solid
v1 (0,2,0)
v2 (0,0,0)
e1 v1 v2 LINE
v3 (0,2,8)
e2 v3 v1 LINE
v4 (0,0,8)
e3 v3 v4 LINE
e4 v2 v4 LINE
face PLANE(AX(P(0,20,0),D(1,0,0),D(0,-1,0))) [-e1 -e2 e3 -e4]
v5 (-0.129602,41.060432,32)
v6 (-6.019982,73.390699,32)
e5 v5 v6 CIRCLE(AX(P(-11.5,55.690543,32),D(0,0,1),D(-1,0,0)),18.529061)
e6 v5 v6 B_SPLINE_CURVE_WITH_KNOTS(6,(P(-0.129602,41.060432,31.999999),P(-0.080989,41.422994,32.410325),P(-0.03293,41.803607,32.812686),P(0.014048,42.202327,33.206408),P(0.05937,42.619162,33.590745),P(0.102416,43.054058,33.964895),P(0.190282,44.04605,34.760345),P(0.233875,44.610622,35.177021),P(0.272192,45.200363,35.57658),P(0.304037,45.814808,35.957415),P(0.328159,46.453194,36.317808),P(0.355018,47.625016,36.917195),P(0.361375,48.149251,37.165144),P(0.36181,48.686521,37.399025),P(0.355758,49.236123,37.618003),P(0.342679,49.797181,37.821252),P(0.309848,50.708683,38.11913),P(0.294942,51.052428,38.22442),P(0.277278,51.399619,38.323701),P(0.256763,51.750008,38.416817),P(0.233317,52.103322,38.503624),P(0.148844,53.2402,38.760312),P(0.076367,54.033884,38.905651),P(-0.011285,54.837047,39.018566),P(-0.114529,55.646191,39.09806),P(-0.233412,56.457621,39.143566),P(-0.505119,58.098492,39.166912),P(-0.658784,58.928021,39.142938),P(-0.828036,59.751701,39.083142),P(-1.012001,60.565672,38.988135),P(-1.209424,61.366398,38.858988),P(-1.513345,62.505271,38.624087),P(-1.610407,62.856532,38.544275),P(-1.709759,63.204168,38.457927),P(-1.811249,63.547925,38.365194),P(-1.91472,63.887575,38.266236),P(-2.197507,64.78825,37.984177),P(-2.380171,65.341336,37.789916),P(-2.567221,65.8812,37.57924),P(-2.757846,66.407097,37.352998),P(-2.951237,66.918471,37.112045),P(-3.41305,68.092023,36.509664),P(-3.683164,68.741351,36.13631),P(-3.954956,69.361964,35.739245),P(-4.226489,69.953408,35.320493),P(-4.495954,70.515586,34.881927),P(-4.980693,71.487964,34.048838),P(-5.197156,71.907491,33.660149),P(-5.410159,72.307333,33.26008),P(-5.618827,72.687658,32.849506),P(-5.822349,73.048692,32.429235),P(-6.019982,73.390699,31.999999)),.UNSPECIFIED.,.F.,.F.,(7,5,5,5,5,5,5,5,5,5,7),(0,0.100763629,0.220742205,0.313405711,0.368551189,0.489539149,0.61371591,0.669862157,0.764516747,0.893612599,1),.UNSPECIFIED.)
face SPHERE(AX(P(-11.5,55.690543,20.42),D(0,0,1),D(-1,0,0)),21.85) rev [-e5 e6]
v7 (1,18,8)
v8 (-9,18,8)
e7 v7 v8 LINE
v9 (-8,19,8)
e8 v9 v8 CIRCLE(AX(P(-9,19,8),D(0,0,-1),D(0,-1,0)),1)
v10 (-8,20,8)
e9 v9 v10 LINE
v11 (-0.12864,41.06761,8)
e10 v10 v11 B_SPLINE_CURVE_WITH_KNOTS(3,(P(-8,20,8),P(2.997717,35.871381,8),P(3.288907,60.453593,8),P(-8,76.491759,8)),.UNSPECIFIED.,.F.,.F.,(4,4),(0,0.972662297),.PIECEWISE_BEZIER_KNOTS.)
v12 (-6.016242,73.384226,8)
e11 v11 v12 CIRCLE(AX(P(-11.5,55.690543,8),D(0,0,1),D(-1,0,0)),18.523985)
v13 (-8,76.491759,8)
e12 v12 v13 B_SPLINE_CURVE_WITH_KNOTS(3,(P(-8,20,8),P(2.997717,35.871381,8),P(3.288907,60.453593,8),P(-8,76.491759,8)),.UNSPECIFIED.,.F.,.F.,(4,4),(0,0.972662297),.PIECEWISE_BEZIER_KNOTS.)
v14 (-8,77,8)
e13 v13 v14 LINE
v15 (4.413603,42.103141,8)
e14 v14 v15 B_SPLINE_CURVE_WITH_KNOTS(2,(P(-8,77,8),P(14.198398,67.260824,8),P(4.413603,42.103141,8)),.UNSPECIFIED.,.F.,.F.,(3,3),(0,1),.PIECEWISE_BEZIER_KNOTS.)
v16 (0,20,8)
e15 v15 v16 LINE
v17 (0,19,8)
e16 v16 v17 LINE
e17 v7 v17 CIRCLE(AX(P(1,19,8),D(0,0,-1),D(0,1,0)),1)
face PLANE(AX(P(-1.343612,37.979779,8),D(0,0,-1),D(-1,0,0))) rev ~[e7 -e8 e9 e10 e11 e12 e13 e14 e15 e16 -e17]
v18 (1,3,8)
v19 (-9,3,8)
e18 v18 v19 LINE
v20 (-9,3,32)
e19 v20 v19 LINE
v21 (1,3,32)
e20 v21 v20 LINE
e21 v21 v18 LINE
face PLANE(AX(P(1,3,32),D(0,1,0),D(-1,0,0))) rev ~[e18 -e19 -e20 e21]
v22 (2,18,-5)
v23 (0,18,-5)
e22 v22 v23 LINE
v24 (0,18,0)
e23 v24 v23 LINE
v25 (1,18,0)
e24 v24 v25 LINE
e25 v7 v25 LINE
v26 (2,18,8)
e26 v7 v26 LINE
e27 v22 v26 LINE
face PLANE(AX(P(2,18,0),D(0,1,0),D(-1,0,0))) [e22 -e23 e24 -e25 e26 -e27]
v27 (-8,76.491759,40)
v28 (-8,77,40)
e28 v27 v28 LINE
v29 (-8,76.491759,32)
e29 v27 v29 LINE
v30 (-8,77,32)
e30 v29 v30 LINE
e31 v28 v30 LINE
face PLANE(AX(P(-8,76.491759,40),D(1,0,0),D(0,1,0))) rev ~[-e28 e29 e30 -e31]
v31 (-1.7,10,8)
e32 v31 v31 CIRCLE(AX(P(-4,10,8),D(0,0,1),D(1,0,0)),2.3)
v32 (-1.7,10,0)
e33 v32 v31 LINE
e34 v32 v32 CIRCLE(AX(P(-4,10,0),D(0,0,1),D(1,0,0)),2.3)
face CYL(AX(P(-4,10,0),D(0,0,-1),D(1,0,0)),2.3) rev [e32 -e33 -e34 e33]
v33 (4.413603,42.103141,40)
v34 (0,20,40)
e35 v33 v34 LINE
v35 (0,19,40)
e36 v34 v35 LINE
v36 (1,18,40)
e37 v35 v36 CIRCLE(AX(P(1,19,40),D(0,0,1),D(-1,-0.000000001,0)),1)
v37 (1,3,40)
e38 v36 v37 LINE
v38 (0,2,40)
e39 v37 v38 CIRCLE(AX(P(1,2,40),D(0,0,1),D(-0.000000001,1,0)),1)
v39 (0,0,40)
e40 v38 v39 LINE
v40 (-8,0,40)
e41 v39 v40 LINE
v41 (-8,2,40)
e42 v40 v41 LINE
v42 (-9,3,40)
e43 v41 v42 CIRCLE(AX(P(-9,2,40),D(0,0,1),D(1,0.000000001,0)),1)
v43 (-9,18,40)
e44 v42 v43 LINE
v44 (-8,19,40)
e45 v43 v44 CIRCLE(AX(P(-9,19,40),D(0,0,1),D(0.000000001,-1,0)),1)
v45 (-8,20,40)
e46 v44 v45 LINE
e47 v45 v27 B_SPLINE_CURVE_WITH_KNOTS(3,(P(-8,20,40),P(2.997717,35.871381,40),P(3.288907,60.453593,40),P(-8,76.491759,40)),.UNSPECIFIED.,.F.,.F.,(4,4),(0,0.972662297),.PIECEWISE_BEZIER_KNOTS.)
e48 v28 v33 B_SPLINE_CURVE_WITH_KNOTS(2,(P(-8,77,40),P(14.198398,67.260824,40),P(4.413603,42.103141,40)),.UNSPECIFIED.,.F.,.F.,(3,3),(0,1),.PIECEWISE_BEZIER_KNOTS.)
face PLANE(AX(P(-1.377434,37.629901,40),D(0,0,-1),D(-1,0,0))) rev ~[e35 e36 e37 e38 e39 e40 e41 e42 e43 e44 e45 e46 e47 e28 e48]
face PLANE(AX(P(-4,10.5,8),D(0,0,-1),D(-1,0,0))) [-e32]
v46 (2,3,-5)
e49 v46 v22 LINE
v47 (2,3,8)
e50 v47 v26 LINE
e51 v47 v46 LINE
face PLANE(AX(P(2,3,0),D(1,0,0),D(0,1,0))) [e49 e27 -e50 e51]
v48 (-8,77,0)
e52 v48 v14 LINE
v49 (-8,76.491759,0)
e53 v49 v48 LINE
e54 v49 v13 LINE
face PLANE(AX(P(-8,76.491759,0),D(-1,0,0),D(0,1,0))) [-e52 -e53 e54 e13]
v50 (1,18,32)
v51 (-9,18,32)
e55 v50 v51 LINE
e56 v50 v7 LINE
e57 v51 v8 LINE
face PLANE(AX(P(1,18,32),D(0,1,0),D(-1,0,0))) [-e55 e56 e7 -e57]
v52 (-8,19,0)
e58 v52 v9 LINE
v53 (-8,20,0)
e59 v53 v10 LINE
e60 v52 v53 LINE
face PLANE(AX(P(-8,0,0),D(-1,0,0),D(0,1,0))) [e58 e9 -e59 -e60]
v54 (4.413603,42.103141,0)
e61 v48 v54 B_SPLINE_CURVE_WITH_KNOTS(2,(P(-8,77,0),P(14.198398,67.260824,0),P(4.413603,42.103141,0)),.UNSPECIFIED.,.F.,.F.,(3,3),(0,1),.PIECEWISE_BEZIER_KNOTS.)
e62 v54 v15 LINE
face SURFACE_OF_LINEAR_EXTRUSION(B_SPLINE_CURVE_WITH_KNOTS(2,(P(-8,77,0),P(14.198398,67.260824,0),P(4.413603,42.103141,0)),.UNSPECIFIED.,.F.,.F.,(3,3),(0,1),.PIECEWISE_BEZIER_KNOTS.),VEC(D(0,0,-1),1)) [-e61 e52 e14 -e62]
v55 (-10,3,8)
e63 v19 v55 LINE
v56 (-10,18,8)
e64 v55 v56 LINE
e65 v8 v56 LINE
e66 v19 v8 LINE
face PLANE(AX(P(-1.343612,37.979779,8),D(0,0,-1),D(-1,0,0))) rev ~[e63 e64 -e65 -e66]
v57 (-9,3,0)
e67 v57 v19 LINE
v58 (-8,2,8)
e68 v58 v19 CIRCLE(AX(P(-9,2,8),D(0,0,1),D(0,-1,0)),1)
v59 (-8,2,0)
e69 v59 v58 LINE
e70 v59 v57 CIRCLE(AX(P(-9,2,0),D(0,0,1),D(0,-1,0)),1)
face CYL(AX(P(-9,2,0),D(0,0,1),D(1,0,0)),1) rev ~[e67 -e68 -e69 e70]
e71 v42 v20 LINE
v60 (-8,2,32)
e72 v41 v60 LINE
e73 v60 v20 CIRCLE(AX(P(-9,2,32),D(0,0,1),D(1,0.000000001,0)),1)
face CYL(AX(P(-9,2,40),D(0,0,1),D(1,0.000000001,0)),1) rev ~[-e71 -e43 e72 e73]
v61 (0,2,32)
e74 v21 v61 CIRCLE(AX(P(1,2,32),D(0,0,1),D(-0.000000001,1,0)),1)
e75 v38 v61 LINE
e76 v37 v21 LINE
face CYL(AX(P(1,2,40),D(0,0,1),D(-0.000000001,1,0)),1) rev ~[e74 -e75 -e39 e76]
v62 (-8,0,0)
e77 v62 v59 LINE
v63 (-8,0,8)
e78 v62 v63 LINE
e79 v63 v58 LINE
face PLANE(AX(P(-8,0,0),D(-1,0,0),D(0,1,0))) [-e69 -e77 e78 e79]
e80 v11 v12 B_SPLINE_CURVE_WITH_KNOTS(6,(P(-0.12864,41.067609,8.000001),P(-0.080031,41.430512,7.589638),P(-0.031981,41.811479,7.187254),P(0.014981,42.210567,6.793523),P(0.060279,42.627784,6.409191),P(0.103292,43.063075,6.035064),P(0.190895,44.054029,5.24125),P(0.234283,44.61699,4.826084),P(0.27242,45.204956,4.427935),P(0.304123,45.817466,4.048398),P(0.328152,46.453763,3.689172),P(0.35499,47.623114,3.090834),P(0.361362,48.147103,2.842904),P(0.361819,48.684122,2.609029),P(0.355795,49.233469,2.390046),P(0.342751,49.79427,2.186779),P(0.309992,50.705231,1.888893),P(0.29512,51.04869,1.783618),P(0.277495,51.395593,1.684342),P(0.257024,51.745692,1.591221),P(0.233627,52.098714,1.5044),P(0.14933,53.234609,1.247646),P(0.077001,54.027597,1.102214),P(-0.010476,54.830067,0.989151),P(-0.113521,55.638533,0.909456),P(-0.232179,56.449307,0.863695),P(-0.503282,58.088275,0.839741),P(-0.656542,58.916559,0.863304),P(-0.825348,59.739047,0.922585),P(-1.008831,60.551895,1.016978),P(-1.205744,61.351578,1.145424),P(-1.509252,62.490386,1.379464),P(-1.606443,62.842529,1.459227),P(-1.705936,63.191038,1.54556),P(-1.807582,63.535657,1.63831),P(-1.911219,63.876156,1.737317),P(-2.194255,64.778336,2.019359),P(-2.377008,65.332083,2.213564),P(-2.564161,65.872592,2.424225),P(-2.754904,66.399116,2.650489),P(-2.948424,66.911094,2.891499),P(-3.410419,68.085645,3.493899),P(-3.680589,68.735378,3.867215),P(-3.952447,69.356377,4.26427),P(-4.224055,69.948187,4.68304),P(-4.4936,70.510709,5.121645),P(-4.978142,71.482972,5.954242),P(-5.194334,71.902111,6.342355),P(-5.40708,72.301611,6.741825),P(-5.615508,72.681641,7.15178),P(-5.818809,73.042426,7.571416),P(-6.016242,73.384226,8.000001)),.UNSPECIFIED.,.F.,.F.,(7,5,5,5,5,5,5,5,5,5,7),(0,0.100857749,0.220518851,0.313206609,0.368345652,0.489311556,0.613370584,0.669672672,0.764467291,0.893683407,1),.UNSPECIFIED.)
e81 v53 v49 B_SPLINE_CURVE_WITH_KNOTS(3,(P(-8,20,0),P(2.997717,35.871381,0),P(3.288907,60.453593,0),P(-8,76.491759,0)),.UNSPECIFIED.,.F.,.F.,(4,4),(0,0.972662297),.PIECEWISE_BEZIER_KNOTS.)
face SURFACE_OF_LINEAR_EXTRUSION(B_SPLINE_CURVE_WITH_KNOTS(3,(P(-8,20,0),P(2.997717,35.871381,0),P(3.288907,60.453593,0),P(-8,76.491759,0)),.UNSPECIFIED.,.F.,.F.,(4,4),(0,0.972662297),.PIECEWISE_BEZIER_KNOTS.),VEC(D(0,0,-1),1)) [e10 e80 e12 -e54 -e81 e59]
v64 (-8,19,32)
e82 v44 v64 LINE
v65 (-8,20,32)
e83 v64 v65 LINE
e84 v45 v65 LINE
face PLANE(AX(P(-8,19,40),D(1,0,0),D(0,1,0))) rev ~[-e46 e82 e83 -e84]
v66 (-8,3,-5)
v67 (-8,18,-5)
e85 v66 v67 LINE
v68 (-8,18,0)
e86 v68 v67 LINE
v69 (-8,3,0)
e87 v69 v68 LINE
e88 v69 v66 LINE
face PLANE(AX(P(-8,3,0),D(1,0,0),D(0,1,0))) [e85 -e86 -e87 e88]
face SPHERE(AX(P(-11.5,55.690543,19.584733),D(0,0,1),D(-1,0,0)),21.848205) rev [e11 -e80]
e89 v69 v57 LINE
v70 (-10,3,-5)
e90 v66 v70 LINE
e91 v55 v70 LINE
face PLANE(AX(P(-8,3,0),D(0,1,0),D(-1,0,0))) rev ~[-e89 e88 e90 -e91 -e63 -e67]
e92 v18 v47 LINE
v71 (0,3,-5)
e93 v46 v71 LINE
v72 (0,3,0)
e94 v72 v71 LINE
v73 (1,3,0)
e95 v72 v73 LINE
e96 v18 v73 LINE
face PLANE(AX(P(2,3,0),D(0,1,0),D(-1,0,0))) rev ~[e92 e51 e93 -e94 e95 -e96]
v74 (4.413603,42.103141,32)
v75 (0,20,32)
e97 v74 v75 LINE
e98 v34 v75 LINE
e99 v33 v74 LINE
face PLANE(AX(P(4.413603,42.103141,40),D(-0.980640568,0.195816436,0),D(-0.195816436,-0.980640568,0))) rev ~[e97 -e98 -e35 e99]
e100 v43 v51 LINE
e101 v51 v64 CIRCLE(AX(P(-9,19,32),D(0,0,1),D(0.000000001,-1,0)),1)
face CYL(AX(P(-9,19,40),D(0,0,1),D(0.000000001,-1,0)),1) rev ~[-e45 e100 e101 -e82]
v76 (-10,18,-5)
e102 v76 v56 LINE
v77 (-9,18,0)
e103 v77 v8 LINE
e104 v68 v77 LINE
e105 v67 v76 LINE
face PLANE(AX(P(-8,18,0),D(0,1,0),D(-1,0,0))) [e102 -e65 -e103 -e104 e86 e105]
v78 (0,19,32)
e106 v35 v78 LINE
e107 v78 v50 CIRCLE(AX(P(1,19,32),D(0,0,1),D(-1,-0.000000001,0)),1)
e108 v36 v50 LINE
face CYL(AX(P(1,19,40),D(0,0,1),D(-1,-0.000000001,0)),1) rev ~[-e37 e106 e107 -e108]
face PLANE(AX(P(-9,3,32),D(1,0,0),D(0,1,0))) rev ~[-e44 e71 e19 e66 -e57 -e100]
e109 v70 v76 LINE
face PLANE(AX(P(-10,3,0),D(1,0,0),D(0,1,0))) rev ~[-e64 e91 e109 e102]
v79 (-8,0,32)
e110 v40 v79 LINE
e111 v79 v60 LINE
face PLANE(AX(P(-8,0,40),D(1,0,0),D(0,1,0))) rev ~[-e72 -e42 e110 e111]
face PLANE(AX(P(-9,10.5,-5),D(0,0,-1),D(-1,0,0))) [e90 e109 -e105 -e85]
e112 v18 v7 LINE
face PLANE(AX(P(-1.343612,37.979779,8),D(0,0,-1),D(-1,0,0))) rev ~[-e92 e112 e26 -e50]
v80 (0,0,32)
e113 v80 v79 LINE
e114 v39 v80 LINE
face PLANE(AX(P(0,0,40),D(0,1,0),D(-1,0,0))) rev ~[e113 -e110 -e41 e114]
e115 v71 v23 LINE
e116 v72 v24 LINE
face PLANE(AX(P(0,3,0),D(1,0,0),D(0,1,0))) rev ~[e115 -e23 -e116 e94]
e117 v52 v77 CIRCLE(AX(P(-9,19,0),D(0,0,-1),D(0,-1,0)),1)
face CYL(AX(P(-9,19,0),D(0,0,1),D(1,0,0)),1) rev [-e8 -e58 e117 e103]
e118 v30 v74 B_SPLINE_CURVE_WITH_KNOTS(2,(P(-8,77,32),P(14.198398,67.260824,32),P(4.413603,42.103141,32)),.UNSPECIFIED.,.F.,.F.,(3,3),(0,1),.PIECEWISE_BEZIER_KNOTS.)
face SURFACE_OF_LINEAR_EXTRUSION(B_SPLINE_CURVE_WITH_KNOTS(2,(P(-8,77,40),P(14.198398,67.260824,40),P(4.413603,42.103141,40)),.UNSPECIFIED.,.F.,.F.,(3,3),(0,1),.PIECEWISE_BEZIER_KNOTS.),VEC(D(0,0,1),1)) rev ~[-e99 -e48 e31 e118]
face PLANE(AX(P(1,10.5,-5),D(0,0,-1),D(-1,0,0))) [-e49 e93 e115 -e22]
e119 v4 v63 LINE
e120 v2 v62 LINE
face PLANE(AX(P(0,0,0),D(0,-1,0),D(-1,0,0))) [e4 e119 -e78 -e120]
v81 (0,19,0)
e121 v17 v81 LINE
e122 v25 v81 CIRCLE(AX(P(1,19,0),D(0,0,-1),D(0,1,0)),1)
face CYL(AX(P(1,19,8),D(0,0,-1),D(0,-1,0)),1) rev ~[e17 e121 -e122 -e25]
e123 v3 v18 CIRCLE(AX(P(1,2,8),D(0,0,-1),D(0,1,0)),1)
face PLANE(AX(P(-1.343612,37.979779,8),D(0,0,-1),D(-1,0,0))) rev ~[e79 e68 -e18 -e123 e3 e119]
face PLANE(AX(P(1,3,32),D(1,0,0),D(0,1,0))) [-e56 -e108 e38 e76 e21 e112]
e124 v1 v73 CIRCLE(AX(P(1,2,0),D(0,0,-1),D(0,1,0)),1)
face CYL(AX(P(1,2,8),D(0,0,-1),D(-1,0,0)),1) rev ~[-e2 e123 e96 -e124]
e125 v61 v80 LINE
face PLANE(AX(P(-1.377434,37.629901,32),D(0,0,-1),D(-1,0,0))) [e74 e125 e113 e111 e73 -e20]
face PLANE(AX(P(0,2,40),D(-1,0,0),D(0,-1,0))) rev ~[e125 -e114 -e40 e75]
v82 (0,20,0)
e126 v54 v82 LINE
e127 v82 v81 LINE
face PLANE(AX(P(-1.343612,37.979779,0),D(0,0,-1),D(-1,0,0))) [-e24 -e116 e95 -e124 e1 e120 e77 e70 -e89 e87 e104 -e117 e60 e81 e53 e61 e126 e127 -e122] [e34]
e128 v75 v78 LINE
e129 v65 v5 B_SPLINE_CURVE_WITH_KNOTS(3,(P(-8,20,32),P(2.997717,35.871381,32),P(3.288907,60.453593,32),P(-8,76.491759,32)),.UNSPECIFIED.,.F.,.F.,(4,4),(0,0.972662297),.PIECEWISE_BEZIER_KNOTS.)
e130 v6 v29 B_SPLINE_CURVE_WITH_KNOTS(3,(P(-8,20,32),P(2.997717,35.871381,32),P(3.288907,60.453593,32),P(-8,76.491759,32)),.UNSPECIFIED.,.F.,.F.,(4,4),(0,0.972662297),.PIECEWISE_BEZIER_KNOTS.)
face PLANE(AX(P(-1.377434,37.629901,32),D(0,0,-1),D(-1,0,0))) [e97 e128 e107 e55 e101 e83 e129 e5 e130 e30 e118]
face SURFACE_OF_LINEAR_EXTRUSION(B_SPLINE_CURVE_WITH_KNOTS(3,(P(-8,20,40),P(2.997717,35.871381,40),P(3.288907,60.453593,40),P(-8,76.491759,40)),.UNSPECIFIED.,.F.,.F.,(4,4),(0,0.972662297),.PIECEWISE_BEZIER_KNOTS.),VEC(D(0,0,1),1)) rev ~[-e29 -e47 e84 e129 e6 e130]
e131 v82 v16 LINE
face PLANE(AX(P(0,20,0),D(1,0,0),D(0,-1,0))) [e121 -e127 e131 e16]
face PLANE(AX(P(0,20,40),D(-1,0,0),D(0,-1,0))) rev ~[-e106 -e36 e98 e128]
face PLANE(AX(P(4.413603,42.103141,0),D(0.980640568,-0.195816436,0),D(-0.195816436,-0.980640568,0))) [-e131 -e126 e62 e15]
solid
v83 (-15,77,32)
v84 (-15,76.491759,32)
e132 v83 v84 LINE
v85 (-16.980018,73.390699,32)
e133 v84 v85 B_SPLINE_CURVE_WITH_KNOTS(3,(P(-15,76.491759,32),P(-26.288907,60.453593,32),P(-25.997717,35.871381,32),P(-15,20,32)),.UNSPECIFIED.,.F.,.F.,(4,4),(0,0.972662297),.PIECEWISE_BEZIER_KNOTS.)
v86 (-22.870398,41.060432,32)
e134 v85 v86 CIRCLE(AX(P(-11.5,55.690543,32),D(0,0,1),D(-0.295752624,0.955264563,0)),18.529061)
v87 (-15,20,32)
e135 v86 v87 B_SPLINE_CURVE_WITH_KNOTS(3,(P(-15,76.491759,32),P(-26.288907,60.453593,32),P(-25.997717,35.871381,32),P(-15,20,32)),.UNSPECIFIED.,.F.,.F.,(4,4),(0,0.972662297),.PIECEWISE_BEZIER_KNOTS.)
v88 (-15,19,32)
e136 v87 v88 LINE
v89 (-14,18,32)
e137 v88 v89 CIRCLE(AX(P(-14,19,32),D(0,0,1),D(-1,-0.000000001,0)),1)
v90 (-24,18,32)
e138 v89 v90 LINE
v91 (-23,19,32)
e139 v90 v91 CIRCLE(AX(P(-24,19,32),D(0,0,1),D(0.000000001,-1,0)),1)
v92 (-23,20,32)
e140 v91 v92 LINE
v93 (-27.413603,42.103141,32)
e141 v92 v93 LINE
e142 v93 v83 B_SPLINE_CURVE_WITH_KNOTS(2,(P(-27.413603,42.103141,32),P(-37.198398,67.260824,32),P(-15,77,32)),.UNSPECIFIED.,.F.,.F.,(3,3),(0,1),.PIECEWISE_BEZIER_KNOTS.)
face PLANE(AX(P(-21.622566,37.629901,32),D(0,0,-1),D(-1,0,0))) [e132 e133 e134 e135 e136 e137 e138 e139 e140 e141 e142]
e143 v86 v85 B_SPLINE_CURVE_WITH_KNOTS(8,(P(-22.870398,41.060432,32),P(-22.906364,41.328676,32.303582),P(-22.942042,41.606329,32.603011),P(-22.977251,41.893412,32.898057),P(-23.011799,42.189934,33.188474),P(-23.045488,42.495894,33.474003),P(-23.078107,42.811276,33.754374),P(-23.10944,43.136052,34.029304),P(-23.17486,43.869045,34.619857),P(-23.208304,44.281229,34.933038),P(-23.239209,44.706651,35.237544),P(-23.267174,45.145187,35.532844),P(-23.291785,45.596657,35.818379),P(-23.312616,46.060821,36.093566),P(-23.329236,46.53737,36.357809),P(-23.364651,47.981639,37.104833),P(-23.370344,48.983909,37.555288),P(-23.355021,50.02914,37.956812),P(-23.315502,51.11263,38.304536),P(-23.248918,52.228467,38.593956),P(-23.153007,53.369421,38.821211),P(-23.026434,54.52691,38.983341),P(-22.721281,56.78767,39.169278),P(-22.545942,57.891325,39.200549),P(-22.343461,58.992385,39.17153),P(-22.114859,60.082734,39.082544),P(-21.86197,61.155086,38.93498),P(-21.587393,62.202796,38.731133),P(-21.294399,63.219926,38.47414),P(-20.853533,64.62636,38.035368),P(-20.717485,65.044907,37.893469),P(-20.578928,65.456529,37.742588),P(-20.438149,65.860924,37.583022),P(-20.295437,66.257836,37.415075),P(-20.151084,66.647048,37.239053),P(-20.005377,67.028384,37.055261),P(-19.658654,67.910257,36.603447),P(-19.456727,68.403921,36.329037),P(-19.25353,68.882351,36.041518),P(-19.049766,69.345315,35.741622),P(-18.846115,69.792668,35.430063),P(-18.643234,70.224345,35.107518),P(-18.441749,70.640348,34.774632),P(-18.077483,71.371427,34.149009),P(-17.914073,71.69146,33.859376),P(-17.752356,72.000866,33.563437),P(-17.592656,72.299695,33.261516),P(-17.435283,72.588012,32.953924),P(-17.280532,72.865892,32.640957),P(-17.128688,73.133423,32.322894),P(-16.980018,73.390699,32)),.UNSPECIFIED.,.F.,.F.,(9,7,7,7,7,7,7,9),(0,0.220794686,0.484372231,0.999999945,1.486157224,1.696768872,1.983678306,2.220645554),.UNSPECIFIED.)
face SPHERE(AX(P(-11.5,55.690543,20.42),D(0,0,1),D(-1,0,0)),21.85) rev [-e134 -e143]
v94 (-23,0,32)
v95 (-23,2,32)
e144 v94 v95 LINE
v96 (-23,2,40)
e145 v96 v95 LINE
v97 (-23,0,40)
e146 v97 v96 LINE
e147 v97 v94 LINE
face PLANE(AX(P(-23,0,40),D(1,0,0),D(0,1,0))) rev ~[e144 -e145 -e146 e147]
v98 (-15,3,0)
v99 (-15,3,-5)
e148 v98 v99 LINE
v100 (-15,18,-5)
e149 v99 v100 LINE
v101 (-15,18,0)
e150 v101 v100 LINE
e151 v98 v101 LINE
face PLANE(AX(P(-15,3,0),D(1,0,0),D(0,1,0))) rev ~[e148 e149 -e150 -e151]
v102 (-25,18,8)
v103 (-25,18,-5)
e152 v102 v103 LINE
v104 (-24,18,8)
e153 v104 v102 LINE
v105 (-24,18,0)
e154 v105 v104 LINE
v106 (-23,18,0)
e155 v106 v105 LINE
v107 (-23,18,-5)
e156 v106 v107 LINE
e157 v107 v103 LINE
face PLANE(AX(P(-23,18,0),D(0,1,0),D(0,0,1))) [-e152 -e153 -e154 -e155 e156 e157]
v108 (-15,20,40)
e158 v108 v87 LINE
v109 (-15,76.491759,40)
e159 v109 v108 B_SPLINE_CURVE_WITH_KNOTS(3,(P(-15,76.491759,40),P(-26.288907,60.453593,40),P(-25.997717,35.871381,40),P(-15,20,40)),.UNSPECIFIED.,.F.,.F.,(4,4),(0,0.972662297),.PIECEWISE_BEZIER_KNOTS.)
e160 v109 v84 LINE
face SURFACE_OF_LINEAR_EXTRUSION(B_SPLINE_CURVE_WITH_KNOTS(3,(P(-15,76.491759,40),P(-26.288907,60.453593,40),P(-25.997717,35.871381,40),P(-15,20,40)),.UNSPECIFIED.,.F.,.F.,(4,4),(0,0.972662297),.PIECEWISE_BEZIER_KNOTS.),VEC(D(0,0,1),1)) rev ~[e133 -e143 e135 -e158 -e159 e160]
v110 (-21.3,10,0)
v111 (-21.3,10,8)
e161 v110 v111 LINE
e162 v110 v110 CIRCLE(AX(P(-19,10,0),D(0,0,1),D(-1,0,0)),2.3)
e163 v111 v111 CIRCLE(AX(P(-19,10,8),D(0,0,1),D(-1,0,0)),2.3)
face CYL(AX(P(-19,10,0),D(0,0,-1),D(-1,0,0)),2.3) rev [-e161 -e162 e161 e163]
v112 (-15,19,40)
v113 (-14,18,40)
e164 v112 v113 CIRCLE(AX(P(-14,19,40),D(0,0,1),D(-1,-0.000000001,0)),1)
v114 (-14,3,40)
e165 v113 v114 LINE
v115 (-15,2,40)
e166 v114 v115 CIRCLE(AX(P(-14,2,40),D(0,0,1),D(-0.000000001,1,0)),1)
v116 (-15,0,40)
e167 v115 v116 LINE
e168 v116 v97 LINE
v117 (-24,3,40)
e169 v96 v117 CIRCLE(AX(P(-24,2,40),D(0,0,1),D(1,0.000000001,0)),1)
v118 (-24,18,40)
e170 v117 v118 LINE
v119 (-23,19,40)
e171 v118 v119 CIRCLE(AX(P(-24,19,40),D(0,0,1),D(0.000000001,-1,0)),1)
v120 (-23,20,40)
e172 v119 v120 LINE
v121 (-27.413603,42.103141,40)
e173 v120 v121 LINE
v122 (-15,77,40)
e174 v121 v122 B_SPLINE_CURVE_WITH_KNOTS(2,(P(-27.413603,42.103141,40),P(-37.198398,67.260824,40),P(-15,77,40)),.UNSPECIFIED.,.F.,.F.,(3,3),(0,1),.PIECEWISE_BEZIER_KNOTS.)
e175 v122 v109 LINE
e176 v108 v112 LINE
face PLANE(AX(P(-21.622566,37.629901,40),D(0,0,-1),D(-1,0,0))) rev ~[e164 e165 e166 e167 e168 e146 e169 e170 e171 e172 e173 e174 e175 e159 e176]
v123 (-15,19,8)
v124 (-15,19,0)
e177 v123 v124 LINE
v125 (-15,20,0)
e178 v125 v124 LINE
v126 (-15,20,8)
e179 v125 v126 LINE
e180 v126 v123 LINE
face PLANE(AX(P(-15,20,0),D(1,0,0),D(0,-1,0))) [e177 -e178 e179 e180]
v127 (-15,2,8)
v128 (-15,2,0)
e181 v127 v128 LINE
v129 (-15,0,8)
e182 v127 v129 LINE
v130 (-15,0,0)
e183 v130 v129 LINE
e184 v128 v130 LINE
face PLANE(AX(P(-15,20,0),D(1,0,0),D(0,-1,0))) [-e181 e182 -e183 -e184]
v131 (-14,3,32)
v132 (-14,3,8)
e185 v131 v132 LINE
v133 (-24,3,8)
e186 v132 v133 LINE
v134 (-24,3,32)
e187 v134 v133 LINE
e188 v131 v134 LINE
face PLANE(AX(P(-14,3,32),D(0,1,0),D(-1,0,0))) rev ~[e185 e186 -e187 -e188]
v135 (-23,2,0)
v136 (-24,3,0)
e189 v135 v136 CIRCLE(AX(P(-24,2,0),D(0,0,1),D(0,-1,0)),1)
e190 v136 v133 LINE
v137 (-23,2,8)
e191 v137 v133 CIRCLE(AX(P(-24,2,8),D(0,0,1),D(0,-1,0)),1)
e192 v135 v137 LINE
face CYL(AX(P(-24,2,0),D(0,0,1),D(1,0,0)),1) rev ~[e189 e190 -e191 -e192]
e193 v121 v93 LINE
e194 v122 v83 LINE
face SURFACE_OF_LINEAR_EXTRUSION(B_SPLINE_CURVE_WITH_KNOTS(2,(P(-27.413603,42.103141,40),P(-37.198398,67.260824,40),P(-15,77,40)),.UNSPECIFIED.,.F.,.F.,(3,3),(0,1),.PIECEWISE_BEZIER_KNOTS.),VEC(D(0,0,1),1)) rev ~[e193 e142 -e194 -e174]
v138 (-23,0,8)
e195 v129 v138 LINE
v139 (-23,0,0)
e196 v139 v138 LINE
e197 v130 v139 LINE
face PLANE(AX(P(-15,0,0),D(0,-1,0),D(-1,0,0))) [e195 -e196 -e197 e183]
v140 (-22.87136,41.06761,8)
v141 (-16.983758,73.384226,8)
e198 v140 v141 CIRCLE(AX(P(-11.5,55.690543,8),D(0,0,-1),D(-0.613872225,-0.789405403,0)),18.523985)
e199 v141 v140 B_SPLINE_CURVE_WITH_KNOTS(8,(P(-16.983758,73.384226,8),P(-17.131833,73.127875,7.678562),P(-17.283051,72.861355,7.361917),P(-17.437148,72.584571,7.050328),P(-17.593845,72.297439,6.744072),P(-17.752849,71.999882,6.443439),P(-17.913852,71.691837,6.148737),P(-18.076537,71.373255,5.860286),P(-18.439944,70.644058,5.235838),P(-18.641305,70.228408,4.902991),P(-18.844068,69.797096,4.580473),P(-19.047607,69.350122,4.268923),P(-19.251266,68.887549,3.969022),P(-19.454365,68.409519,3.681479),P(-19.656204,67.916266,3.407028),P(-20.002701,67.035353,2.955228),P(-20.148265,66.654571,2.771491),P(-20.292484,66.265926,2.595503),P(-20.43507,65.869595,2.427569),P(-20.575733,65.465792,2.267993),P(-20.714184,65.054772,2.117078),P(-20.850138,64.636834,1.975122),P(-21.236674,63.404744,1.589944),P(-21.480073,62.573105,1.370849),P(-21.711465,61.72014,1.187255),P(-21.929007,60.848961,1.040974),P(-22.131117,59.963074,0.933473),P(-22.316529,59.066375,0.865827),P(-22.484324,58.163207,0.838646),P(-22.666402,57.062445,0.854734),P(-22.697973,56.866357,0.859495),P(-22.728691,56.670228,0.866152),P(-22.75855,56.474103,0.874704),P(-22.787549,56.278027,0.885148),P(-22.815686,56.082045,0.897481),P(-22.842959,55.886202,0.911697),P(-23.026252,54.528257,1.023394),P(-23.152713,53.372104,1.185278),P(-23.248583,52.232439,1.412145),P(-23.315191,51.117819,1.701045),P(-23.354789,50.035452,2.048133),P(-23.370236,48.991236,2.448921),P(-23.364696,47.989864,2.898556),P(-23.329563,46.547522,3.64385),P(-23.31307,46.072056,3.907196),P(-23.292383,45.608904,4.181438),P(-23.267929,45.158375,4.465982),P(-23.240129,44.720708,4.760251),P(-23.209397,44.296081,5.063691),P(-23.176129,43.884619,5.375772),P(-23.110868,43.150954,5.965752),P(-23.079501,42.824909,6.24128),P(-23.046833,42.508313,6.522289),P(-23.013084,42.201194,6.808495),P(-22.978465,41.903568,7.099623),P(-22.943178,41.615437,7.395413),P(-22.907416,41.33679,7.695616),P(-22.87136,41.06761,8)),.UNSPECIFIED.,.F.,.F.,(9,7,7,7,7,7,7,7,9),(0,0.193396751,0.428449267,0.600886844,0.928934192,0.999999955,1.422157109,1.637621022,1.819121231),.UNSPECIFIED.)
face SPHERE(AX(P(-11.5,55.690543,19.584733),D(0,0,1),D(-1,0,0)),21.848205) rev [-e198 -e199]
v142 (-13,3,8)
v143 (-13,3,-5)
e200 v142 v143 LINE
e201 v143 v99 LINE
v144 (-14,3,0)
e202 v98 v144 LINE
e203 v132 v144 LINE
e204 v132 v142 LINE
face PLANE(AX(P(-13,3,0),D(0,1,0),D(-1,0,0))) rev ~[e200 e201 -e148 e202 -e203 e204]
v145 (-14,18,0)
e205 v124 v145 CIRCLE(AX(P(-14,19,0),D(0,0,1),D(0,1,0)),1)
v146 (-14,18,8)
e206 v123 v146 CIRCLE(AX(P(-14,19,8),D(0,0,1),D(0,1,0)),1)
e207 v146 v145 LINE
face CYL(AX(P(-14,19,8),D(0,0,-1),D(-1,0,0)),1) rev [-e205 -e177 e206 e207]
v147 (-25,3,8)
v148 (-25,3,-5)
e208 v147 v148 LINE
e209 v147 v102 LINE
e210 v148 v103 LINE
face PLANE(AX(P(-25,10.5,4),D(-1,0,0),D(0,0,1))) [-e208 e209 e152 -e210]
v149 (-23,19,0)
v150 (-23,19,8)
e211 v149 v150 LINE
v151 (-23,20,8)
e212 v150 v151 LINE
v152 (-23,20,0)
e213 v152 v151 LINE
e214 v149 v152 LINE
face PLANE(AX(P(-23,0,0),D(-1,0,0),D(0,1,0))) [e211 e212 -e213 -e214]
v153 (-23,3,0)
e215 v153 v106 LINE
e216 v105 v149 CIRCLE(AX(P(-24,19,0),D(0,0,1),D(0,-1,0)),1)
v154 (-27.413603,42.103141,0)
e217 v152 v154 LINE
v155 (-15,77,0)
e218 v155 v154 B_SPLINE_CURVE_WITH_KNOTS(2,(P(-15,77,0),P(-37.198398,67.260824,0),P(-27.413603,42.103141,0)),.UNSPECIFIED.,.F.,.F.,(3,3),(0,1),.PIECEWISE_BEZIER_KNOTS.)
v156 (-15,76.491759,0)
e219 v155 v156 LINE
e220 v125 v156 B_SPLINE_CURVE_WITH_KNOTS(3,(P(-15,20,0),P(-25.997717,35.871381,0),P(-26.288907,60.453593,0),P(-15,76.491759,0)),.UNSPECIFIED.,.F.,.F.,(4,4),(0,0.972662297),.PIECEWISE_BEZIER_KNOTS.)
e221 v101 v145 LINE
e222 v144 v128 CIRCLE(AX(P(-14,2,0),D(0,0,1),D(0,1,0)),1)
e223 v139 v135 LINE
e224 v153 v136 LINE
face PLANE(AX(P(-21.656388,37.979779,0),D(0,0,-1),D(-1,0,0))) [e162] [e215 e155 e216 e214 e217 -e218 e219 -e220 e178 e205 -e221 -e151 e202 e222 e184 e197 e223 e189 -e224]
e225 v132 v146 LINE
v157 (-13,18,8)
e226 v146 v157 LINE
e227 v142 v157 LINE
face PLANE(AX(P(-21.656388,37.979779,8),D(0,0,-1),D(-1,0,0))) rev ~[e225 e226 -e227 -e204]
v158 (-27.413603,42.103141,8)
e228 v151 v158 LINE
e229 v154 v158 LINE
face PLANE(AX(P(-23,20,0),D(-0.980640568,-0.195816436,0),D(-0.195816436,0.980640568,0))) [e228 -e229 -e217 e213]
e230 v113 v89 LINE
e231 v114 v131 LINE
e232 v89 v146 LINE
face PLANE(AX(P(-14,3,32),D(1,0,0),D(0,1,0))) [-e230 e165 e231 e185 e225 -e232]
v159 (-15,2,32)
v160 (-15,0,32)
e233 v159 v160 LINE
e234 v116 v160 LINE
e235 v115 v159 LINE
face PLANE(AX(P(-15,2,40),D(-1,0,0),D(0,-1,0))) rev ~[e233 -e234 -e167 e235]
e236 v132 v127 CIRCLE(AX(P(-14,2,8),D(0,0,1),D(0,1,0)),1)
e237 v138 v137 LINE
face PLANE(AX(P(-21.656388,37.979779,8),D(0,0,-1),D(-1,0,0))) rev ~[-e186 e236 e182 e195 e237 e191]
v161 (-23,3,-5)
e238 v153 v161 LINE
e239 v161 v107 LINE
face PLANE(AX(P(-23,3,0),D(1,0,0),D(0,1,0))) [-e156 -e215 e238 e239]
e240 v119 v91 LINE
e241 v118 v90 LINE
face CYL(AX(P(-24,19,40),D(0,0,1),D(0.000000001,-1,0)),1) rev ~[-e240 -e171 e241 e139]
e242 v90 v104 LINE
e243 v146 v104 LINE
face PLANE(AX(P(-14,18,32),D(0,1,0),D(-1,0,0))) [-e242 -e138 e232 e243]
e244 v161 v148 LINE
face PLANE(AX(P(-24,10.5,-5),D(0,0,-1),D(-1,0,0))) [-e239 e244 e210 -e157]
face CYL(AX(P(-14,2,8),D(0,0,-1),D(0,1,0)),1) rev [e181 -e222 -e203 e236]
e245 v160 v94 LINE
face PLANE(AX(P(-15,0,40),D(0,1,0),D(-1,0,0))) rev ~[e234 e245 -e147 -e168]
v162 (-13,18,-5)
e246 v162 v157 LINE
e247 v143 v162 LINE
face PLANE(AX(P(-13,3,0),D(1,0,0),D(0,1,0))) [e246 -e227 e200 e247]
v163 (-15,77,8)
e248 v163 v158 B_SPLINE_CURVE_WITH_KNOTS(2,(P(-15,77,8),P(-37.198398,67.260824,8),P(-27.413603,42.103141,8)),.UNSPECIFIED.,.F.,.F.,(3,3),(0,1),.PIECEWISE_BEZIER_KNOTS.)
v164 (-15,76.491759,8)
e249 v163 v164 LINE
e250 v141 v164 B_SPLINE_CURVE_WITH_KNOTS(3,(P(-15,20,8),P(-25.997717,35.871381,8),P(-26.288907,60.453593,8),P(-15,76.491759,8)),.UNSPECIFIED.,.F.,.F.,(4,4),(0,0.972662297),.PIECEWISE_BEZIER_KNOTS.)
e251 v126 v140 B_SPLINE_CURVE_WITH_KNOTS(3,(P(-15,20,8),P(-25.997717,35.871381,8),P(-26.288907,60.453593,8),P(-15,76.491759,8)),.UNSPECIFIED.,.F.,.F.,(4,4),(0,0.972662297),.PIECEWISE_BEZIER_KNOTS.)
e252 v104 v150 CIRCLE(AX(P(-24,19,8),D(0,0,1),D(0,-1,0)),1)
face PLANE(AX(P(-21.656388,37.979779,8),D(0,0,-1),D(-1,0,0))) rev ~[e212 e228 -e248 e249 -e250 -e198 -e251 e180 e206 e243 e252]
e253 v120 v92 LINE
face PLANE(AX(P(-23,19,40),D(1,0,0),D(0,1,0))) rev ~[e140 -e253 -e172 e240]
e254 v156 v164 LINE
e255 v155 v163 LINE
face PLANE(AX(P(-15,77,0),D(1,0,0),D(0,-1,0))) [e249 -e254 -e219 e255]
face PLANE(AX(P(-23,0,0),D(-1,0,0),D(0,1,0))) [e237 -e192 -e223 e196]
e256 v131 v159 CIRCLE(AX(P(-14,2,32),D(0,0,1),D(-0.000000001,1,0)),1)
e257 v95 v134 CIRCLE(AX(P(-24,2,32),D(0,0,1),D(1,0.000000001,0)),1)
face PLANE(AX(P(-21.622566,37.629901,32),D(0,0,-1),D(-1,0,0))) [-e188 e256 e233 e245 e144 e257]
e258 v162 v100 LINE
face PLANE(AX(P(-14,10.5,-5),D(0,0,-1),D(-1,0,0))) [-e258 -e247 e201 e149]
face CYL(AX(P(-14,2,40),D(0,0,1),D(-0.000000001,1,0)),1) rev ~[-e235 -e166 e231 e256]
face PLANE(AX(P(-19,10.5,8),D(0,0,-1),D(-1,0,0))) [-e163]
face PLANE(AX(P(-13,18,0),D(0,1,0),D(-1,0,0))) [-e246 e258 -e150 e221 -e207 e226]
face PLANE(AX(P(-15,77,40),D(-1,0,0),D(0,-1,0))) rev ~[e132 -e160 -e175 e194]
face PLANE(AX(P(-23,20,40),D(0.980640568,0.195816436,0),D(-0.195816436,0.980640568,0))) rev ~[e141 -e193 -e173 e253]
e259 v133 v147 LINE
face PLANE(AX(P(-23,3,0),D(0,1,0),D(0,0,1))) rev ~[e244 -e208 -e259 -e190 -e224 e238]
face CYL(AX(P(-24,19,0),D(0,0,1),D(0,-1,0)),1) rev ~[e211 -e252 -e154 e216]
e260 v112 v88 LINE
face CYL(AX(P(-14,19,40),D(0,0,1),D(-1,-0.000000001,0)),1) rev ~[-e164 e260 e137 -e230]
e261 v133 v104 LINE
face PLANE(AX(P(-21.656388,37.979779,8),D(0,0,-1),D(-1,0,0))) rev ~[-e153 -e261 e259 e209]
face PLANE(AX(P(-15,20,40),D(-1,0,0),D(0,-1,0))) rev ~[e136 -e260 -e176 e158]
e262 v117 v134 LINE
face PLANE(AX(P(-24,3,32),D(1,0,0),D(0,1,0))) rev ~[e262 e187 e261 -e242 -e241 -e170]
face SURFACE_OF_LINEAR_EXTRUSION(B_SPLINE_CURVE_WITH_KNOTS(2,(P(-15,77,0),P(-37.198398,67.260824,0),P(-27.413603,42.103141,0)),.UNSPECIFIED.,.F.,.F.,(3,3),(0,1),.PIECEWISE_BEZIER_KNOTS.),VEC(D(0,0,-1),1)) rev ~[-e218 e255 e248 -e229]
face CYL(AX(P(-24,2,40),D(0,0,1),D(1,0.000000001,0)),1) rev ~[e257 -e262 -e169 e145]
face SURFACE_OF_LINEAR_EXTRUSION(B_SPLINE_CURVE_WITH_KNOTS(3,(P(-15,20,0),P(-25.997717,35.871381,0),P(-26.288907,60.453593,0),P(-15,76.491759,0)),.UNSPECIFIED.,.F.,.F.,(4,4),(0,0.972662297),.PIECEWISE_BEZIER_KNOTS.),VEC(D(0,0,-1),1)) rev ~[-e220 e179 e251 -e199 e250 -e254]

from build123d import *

# Parameters (mm, degrees)
SKETCH_1_R         = 2.3
EXTRUDE_1_DEPTH    = 8
EXTRUDE_1_2_DEPTH  = 8
SKETCH_2_W         = 8
SKETCH_2_H         = 15
EXTRUDE_2_DEPTH    = 2
SKETCH_3_W         = 2
SKETCH_3_H         = 15
EXTRUDE_3_DEPTH    = 5
SKETCH_4_W         = 8
SKETCH_4_H         = 15
EXTRUDE_4_DEPTH    = 2
SKETCH_5_W         = 2
SKETCH_5_H         = 15
EXTRUDE_5_DEPTH    = 5
FILLET_1_R         = 1
SKETCH_7_W         = 8
SKETCH_7_H         = 15
EXTRUDE_6_DEPTH    = 2
SKETCH_8_W         = 8
SKETCH_8_H         = 15
EXTRUDE_7_DEPTH    = 2
SKETCH_9_W         = 2
SKETCH_9_H         = 15
EXTRUDE_8_DEPTH    = 5
FILLET_2_R         = 1
EXTRUDE_10_DEPTH   = 8
EXTRUDE_10_2_DEPTH = 8
SKETCH_22_W        = 10
SKETCH_22_H        = 15
EXTRUDE_12_DEPTH   = 24


with BuildPart() as part:
    # 草图1 → 凸台-拉伸1 (new body)
    with BuildSketch(Plane.XY):
        with BuildLine():
            Line((-8, 0), (-8, 20))
            add(Edge.make_bspline(
                [(-8, 20), (2.997717423, 35.871381499), (3.288906564, 60.453592805), (-8, 76.491759263)],
                knots=[0, 0, 0, 0, 0.972662297, 0.972662297, 0.972662297, 0.972662297], degree=3))
            Line((-8, 76.491759263), (-8, 77))
            add(Edge.make_bspline(
                [(-8, 77), (14.198398274, 67.260824221), (4.413603164, 42.103141077)],
                knots=[0, 0, 0, 1, 1, 1], degree=2))
            Line((4.413603164, 42.103141077), (0, 20))
            Line((0, 20), (0, 0))
            Line((0, 0), (-8, 0))
        make_face()
        with Locations((-4, 10)):
            Circle(SKETCH_1_R, mode=Mode.SUBTRACT)
    extrude(amount=EXTRUDE_1_DEPTH)

    # 草图2 → 凸台-拉伸2 (add)
    with BuildSketch(Plane(origin=(0, 0, 0), x_dir=(0, 0, -1), z_dir=(1, 0, 0))):
        with Locations((-4, 10.5)):
            Rectangle(SKETCH_2_W, SKETCH_2_H)
    extrude(amount=EXTRUDE_2_DEPTH)

    # 草图3 → 凸台-拉伸3 (add)
    with BuildSketch(Plane(origin=(0, 0, 0), x_dir=(-1, 0, 0), z_dir=(0, 0, -1))):
        with Locations((-1, 10.5)):
            Rectangle(SKETCH_3_W, SKETCH_3_H)
    extrude(amount=EXTRUDE_3_DEPTH)

    # 草图4 → 凸台-拉伸4 (add)
    with BuildSketch(Plane.ZY.offset(8)):
        with Locations((4, 10.5)):
            Rectangle(SKETCH_4_W, SKETCH_4_H)
    extrude(amount=EXTRUDE_4_DEPTH)

    # 草图5 → 凸台-拉伸5 (add)
    with BuildSketch(Plane(origin=(0, 0, 0), x_dir=(-1, 0, 0), z_dir=(0, 0, -1))):
        with Locations((9, 10.5)):
            Rectangle(SKETCH_5_W, SKETCH_5_H)
    extrude(amount=EXTRUDE_5_DEPTH)

    # 圆角1
    fillet_1_edges = [part.edges().sort_by_distance(p)[0] for p in [
        (0, 3, 4),
        (0, 18, 4),
        (-8, 3, 4),
        (-8, 18, 4),
    ]]
    fillet(fillet_1_edges, radius=FILLET_1_R)


with BuildPart() as body_2:
    # 草图1 → Extrude 1 2 (new body)
    with BuildSketch(Plane.XY):
        with BuildLine():
            Line((-15, 77), (-15, 76.491759263))
            add(Edge.make_bspline(
                [(-15, 20), (-25.997717423, 35.871381499), (-26.288906564, 60.453592805), (-15, 76.491759263)],
                knots=[0, 0, 0, 0, 0.972662297, 0.972662297, 0.972662297, 0.972662297], degree=3))
            Line((-15, 20), (-15, 0))
            Line((-15, 0), (-23, 0))
            Line((-23, 0), (-23, 20))
            Line((-23, 20), (-27.413603164, 42.103141077))
            add(Edge.make_bspline(
                [(-15, 77), (-37.198398274, 67.260824221), (-27.413603164, 42.103141077)],
                knots=[0, 0, 0, 1, 1, 1], degree=2))
        make_face()
        with Locations(Location((-19, 10, 0), (0, 0, 180))):
            Circle(SKETCH_1_R, mode=Mode.SUBTRACT)
    extrude(amount=EXTRUDE_1_2_DEPTH)

    # 草图7 → 凸台-拉伸6 (add)
    with BuildSketch(Plane(origin=(-15, 0, 0), x_dir=(0, 0, -1), z_dir=(1, 0, 0))):
        with Locations((-4, 10.5)):
            Rectangle(SKETCH_7_W, SKETCH_7_H)
    extrude(amount=EXTRUDE_6_DEPTH)

    # 草图8 → 凸台-拉伸7 (add)
    with BuildSketch(Plane.ZY.offset(23)):
        with Locations((4, 10.5)):
            Rectangle(SKETCH_8_W, SKETCH_8_H)
    extrude(amount=EXTRUDE_7_DEPTH)

    # 草图9 → 凸台-拉伸8 (add)
    with BuildSketch(Plane(origin=(0, 0, 0), x_dir=(-1, 0, 0), z_dir=(0, 0, -1))):
        with Locations((14, 10.5)):
            Rectangle(SKETCH_9_W, SKETCH_9_H)
        with Locations((24, 10.5)):
            Rectangle(SKETCH_9_W, SKETCH_9_H)
    extrude(amount=EXTRUDE_8_DEPTH)

    # 圆角2
    fillet_2_edges = [body_2.edges().sort_by_distance(p)[0] for p in [
        (-15, 3, 4),
        (-15, 18, 4),
        (-23, 3, 4),
        (-23, 18, 4),
    ]]
    fillet(fillet_2_edges, radius=FILLET_2_R)


with BuildPart() as body_3:
    # 草图18 → 凸台-拉伸10 (new body)
    with BuildSketch(Plane(origin=(0, 0, 40), x_dir=(-1, 0, 0), z_dir=(0, 0, -1))):
        with BuildLine():
            Line((8, 19), (8, 20))
            add(Edge.make_bspline(
                [(8, 20), (-2.997717423, 35.871381499), (-3.288906564, 60.453592805), (8, 76.491759263)],
                knots=[0, 0, 0, 0, 0.972662297, 0.972662297, 0.972662297, 0.972662297], degree=3))
            Line((8, 76.491759263), (8, 77))
            add(Edge.make_bspline(
                [(8, 77), (-14.198398274, 67.260824221), (-4.413603164, 42.103141077)],
                knots=[0, 0, 0, 1, 1, 1], degree=2))
            Line((-4.413603164, 42.103141077), (0, 20))
            Line((0, 20), (0, 19))
            ThreePointArc((0, 19), (-0.292893219, 18.292893219), (-1, 18))
            Line((-1, 18), (-1, 3))
            ThreePointArc((-1, 3), (-0.292893219, 2.707106781), (0, 2))
            Line((0, 2), (0, 0))
            Line((0, 0), (8, 0))
            Line((8, 0), (8, 2))
            ThreePointArc((8, 2), (8.292893219, 2.707106781), (9, 3))
            Line((9, 3), (9, 18))
            ThreePointArc((9, 18), (8.292893219, 18.292893219), (8, 19))
        make_face()
    extrude(amount=EXTRUDE_10_DEPTH)


with BuildPart() as body_4:
    # 草图18 → Extrude 10 2 (new body)
    with BuildSketch(Plane(origin=(0, 0, 40), x_dir=(-1, 0, 0), z_dir=(0, 0, -1))):
        with BuildLine():
            Line((23, 0), (23, 2))
            ThreePointArc((23, 2), (23.292893219, 2.707106781), (24, 3))
            Line((24, 3), (24, 18))
            ThreePointArc((24, 18), (23.292893219, 18.292893219), (23, 19))
            Line((23, 19), (23, 20))
            Line((23, 20), (27.413603164, 42.103141077))
            add(Edge.make_bspline(
                [(27.413603164, 42.103141077), (37.198398274, 67.260824221), (15, 77)],
                knots=[0, 0, 0, 1, 1, 1], degree=2))
            Line((15, 77), (15, 76.491759263))
            add(Edge.make_bspline(
                [(15, 76.491759263), (26.288906564, 60.453592805), (25.997717423, 35.871381499), (15, 20)],
                knots=[0, 0, 0, 0, 0.972662297, 0.972662297, 0.972662297, 0.972662297], degree=3))
            Line((15, 20), (15, 19))
            ThreePointArc((15, 19), (14.707106781, 18.292893219), (14, 18))
            Line((14, 18), (14, 3))
            ThreePointArc((14, 3), (14.707106781, 2.707106781), (15, 2))
            Line((15, 2), (15, 0))
            Line((15, 0), (23, 0))
        make_face()
    extrude(amount=EXTRUDE_10_2_DEPTH)


with BuildPart() as cut_revolve_1_tool:
    # 草图13 → 切除-旋转1 (revolve)
    with BuildSketch(Plane(origin=(-11.5, 55.690543417, 8), x_dir=(1, 0, 0), z_dir=(0, 1, 0))):
        with BuildLine():
            Line((0, -33.432937933), (0, 10.26347139))
            ThreePointArc((0, 10.26347139), (-15.579514295, 3.732667985), (-21.84506009, -11.955403748))
            ThreePointArc((-21.84506009, -11.955403748), (-15.613678748, -27.705141018), (0, -34.27))
            Line((0, -34.27), (0, -33.432937933))
        make_face()
    revolve(axis=Axis((-11.5, 55.690543417, 1008), (0, 0, -1)))


with BuildPart() as part_1:
    add(part.part)

    # 切除-旋转1: cut by cut_revolve_1_tool
    add(cut_revolve_1_tool.part, mode=Mode.SUBTRACT)



with BuildPart() as body_2_1:
    add(body_2.part)

    # 切除-旋转1: cut by cut_revolve_1_tool
    add(cut_revolve_1_tool.part, mode=Mode.SUBTRACT)


with BuildPart() as body_3_1:
    add(body_3.part)

    # 切除-旋转1: cut by cut_revolve_1_tool
    add(cut_revolve_1_tool.part, mode=Mode.SUBTRACT)


with BuildPart() as body_4_1:
    add(body_4.part)

    # 切除-旋转1: cut by cut_revolve_1_tool
    add(cut_revolve_1_tool.part, mode=Mode.SUBTRACT)


with BuildPart() as part_2:
    add(part_1.part)

    add(body_2_1.part)  # 凸台-拉伸12 merges body 2

    add(body_3_1.part)  # 凸台-拉伸12 merges body 3

    add(body_4_1.part)  # 凸台-拉伸12 merges body 4
    # 草图22 → 凸台-拉伸12 (add)
    with BuildSketch(Plane(origin=(0, 0, 32), x_dir=(-1, 0, 0), z_dir=(0, 0, -1))):
        with Locations((19, 10.5)):
            Rectangle(SKETCH_22_W, SKETCH_22_H)
        with Locations((4, 10.5)):
            Rectangle(SKETCH_22_W, SKETCH_22_H)
    extrude(amount=EXTRUDE_12_DEPTH)


solid = part_2.part
